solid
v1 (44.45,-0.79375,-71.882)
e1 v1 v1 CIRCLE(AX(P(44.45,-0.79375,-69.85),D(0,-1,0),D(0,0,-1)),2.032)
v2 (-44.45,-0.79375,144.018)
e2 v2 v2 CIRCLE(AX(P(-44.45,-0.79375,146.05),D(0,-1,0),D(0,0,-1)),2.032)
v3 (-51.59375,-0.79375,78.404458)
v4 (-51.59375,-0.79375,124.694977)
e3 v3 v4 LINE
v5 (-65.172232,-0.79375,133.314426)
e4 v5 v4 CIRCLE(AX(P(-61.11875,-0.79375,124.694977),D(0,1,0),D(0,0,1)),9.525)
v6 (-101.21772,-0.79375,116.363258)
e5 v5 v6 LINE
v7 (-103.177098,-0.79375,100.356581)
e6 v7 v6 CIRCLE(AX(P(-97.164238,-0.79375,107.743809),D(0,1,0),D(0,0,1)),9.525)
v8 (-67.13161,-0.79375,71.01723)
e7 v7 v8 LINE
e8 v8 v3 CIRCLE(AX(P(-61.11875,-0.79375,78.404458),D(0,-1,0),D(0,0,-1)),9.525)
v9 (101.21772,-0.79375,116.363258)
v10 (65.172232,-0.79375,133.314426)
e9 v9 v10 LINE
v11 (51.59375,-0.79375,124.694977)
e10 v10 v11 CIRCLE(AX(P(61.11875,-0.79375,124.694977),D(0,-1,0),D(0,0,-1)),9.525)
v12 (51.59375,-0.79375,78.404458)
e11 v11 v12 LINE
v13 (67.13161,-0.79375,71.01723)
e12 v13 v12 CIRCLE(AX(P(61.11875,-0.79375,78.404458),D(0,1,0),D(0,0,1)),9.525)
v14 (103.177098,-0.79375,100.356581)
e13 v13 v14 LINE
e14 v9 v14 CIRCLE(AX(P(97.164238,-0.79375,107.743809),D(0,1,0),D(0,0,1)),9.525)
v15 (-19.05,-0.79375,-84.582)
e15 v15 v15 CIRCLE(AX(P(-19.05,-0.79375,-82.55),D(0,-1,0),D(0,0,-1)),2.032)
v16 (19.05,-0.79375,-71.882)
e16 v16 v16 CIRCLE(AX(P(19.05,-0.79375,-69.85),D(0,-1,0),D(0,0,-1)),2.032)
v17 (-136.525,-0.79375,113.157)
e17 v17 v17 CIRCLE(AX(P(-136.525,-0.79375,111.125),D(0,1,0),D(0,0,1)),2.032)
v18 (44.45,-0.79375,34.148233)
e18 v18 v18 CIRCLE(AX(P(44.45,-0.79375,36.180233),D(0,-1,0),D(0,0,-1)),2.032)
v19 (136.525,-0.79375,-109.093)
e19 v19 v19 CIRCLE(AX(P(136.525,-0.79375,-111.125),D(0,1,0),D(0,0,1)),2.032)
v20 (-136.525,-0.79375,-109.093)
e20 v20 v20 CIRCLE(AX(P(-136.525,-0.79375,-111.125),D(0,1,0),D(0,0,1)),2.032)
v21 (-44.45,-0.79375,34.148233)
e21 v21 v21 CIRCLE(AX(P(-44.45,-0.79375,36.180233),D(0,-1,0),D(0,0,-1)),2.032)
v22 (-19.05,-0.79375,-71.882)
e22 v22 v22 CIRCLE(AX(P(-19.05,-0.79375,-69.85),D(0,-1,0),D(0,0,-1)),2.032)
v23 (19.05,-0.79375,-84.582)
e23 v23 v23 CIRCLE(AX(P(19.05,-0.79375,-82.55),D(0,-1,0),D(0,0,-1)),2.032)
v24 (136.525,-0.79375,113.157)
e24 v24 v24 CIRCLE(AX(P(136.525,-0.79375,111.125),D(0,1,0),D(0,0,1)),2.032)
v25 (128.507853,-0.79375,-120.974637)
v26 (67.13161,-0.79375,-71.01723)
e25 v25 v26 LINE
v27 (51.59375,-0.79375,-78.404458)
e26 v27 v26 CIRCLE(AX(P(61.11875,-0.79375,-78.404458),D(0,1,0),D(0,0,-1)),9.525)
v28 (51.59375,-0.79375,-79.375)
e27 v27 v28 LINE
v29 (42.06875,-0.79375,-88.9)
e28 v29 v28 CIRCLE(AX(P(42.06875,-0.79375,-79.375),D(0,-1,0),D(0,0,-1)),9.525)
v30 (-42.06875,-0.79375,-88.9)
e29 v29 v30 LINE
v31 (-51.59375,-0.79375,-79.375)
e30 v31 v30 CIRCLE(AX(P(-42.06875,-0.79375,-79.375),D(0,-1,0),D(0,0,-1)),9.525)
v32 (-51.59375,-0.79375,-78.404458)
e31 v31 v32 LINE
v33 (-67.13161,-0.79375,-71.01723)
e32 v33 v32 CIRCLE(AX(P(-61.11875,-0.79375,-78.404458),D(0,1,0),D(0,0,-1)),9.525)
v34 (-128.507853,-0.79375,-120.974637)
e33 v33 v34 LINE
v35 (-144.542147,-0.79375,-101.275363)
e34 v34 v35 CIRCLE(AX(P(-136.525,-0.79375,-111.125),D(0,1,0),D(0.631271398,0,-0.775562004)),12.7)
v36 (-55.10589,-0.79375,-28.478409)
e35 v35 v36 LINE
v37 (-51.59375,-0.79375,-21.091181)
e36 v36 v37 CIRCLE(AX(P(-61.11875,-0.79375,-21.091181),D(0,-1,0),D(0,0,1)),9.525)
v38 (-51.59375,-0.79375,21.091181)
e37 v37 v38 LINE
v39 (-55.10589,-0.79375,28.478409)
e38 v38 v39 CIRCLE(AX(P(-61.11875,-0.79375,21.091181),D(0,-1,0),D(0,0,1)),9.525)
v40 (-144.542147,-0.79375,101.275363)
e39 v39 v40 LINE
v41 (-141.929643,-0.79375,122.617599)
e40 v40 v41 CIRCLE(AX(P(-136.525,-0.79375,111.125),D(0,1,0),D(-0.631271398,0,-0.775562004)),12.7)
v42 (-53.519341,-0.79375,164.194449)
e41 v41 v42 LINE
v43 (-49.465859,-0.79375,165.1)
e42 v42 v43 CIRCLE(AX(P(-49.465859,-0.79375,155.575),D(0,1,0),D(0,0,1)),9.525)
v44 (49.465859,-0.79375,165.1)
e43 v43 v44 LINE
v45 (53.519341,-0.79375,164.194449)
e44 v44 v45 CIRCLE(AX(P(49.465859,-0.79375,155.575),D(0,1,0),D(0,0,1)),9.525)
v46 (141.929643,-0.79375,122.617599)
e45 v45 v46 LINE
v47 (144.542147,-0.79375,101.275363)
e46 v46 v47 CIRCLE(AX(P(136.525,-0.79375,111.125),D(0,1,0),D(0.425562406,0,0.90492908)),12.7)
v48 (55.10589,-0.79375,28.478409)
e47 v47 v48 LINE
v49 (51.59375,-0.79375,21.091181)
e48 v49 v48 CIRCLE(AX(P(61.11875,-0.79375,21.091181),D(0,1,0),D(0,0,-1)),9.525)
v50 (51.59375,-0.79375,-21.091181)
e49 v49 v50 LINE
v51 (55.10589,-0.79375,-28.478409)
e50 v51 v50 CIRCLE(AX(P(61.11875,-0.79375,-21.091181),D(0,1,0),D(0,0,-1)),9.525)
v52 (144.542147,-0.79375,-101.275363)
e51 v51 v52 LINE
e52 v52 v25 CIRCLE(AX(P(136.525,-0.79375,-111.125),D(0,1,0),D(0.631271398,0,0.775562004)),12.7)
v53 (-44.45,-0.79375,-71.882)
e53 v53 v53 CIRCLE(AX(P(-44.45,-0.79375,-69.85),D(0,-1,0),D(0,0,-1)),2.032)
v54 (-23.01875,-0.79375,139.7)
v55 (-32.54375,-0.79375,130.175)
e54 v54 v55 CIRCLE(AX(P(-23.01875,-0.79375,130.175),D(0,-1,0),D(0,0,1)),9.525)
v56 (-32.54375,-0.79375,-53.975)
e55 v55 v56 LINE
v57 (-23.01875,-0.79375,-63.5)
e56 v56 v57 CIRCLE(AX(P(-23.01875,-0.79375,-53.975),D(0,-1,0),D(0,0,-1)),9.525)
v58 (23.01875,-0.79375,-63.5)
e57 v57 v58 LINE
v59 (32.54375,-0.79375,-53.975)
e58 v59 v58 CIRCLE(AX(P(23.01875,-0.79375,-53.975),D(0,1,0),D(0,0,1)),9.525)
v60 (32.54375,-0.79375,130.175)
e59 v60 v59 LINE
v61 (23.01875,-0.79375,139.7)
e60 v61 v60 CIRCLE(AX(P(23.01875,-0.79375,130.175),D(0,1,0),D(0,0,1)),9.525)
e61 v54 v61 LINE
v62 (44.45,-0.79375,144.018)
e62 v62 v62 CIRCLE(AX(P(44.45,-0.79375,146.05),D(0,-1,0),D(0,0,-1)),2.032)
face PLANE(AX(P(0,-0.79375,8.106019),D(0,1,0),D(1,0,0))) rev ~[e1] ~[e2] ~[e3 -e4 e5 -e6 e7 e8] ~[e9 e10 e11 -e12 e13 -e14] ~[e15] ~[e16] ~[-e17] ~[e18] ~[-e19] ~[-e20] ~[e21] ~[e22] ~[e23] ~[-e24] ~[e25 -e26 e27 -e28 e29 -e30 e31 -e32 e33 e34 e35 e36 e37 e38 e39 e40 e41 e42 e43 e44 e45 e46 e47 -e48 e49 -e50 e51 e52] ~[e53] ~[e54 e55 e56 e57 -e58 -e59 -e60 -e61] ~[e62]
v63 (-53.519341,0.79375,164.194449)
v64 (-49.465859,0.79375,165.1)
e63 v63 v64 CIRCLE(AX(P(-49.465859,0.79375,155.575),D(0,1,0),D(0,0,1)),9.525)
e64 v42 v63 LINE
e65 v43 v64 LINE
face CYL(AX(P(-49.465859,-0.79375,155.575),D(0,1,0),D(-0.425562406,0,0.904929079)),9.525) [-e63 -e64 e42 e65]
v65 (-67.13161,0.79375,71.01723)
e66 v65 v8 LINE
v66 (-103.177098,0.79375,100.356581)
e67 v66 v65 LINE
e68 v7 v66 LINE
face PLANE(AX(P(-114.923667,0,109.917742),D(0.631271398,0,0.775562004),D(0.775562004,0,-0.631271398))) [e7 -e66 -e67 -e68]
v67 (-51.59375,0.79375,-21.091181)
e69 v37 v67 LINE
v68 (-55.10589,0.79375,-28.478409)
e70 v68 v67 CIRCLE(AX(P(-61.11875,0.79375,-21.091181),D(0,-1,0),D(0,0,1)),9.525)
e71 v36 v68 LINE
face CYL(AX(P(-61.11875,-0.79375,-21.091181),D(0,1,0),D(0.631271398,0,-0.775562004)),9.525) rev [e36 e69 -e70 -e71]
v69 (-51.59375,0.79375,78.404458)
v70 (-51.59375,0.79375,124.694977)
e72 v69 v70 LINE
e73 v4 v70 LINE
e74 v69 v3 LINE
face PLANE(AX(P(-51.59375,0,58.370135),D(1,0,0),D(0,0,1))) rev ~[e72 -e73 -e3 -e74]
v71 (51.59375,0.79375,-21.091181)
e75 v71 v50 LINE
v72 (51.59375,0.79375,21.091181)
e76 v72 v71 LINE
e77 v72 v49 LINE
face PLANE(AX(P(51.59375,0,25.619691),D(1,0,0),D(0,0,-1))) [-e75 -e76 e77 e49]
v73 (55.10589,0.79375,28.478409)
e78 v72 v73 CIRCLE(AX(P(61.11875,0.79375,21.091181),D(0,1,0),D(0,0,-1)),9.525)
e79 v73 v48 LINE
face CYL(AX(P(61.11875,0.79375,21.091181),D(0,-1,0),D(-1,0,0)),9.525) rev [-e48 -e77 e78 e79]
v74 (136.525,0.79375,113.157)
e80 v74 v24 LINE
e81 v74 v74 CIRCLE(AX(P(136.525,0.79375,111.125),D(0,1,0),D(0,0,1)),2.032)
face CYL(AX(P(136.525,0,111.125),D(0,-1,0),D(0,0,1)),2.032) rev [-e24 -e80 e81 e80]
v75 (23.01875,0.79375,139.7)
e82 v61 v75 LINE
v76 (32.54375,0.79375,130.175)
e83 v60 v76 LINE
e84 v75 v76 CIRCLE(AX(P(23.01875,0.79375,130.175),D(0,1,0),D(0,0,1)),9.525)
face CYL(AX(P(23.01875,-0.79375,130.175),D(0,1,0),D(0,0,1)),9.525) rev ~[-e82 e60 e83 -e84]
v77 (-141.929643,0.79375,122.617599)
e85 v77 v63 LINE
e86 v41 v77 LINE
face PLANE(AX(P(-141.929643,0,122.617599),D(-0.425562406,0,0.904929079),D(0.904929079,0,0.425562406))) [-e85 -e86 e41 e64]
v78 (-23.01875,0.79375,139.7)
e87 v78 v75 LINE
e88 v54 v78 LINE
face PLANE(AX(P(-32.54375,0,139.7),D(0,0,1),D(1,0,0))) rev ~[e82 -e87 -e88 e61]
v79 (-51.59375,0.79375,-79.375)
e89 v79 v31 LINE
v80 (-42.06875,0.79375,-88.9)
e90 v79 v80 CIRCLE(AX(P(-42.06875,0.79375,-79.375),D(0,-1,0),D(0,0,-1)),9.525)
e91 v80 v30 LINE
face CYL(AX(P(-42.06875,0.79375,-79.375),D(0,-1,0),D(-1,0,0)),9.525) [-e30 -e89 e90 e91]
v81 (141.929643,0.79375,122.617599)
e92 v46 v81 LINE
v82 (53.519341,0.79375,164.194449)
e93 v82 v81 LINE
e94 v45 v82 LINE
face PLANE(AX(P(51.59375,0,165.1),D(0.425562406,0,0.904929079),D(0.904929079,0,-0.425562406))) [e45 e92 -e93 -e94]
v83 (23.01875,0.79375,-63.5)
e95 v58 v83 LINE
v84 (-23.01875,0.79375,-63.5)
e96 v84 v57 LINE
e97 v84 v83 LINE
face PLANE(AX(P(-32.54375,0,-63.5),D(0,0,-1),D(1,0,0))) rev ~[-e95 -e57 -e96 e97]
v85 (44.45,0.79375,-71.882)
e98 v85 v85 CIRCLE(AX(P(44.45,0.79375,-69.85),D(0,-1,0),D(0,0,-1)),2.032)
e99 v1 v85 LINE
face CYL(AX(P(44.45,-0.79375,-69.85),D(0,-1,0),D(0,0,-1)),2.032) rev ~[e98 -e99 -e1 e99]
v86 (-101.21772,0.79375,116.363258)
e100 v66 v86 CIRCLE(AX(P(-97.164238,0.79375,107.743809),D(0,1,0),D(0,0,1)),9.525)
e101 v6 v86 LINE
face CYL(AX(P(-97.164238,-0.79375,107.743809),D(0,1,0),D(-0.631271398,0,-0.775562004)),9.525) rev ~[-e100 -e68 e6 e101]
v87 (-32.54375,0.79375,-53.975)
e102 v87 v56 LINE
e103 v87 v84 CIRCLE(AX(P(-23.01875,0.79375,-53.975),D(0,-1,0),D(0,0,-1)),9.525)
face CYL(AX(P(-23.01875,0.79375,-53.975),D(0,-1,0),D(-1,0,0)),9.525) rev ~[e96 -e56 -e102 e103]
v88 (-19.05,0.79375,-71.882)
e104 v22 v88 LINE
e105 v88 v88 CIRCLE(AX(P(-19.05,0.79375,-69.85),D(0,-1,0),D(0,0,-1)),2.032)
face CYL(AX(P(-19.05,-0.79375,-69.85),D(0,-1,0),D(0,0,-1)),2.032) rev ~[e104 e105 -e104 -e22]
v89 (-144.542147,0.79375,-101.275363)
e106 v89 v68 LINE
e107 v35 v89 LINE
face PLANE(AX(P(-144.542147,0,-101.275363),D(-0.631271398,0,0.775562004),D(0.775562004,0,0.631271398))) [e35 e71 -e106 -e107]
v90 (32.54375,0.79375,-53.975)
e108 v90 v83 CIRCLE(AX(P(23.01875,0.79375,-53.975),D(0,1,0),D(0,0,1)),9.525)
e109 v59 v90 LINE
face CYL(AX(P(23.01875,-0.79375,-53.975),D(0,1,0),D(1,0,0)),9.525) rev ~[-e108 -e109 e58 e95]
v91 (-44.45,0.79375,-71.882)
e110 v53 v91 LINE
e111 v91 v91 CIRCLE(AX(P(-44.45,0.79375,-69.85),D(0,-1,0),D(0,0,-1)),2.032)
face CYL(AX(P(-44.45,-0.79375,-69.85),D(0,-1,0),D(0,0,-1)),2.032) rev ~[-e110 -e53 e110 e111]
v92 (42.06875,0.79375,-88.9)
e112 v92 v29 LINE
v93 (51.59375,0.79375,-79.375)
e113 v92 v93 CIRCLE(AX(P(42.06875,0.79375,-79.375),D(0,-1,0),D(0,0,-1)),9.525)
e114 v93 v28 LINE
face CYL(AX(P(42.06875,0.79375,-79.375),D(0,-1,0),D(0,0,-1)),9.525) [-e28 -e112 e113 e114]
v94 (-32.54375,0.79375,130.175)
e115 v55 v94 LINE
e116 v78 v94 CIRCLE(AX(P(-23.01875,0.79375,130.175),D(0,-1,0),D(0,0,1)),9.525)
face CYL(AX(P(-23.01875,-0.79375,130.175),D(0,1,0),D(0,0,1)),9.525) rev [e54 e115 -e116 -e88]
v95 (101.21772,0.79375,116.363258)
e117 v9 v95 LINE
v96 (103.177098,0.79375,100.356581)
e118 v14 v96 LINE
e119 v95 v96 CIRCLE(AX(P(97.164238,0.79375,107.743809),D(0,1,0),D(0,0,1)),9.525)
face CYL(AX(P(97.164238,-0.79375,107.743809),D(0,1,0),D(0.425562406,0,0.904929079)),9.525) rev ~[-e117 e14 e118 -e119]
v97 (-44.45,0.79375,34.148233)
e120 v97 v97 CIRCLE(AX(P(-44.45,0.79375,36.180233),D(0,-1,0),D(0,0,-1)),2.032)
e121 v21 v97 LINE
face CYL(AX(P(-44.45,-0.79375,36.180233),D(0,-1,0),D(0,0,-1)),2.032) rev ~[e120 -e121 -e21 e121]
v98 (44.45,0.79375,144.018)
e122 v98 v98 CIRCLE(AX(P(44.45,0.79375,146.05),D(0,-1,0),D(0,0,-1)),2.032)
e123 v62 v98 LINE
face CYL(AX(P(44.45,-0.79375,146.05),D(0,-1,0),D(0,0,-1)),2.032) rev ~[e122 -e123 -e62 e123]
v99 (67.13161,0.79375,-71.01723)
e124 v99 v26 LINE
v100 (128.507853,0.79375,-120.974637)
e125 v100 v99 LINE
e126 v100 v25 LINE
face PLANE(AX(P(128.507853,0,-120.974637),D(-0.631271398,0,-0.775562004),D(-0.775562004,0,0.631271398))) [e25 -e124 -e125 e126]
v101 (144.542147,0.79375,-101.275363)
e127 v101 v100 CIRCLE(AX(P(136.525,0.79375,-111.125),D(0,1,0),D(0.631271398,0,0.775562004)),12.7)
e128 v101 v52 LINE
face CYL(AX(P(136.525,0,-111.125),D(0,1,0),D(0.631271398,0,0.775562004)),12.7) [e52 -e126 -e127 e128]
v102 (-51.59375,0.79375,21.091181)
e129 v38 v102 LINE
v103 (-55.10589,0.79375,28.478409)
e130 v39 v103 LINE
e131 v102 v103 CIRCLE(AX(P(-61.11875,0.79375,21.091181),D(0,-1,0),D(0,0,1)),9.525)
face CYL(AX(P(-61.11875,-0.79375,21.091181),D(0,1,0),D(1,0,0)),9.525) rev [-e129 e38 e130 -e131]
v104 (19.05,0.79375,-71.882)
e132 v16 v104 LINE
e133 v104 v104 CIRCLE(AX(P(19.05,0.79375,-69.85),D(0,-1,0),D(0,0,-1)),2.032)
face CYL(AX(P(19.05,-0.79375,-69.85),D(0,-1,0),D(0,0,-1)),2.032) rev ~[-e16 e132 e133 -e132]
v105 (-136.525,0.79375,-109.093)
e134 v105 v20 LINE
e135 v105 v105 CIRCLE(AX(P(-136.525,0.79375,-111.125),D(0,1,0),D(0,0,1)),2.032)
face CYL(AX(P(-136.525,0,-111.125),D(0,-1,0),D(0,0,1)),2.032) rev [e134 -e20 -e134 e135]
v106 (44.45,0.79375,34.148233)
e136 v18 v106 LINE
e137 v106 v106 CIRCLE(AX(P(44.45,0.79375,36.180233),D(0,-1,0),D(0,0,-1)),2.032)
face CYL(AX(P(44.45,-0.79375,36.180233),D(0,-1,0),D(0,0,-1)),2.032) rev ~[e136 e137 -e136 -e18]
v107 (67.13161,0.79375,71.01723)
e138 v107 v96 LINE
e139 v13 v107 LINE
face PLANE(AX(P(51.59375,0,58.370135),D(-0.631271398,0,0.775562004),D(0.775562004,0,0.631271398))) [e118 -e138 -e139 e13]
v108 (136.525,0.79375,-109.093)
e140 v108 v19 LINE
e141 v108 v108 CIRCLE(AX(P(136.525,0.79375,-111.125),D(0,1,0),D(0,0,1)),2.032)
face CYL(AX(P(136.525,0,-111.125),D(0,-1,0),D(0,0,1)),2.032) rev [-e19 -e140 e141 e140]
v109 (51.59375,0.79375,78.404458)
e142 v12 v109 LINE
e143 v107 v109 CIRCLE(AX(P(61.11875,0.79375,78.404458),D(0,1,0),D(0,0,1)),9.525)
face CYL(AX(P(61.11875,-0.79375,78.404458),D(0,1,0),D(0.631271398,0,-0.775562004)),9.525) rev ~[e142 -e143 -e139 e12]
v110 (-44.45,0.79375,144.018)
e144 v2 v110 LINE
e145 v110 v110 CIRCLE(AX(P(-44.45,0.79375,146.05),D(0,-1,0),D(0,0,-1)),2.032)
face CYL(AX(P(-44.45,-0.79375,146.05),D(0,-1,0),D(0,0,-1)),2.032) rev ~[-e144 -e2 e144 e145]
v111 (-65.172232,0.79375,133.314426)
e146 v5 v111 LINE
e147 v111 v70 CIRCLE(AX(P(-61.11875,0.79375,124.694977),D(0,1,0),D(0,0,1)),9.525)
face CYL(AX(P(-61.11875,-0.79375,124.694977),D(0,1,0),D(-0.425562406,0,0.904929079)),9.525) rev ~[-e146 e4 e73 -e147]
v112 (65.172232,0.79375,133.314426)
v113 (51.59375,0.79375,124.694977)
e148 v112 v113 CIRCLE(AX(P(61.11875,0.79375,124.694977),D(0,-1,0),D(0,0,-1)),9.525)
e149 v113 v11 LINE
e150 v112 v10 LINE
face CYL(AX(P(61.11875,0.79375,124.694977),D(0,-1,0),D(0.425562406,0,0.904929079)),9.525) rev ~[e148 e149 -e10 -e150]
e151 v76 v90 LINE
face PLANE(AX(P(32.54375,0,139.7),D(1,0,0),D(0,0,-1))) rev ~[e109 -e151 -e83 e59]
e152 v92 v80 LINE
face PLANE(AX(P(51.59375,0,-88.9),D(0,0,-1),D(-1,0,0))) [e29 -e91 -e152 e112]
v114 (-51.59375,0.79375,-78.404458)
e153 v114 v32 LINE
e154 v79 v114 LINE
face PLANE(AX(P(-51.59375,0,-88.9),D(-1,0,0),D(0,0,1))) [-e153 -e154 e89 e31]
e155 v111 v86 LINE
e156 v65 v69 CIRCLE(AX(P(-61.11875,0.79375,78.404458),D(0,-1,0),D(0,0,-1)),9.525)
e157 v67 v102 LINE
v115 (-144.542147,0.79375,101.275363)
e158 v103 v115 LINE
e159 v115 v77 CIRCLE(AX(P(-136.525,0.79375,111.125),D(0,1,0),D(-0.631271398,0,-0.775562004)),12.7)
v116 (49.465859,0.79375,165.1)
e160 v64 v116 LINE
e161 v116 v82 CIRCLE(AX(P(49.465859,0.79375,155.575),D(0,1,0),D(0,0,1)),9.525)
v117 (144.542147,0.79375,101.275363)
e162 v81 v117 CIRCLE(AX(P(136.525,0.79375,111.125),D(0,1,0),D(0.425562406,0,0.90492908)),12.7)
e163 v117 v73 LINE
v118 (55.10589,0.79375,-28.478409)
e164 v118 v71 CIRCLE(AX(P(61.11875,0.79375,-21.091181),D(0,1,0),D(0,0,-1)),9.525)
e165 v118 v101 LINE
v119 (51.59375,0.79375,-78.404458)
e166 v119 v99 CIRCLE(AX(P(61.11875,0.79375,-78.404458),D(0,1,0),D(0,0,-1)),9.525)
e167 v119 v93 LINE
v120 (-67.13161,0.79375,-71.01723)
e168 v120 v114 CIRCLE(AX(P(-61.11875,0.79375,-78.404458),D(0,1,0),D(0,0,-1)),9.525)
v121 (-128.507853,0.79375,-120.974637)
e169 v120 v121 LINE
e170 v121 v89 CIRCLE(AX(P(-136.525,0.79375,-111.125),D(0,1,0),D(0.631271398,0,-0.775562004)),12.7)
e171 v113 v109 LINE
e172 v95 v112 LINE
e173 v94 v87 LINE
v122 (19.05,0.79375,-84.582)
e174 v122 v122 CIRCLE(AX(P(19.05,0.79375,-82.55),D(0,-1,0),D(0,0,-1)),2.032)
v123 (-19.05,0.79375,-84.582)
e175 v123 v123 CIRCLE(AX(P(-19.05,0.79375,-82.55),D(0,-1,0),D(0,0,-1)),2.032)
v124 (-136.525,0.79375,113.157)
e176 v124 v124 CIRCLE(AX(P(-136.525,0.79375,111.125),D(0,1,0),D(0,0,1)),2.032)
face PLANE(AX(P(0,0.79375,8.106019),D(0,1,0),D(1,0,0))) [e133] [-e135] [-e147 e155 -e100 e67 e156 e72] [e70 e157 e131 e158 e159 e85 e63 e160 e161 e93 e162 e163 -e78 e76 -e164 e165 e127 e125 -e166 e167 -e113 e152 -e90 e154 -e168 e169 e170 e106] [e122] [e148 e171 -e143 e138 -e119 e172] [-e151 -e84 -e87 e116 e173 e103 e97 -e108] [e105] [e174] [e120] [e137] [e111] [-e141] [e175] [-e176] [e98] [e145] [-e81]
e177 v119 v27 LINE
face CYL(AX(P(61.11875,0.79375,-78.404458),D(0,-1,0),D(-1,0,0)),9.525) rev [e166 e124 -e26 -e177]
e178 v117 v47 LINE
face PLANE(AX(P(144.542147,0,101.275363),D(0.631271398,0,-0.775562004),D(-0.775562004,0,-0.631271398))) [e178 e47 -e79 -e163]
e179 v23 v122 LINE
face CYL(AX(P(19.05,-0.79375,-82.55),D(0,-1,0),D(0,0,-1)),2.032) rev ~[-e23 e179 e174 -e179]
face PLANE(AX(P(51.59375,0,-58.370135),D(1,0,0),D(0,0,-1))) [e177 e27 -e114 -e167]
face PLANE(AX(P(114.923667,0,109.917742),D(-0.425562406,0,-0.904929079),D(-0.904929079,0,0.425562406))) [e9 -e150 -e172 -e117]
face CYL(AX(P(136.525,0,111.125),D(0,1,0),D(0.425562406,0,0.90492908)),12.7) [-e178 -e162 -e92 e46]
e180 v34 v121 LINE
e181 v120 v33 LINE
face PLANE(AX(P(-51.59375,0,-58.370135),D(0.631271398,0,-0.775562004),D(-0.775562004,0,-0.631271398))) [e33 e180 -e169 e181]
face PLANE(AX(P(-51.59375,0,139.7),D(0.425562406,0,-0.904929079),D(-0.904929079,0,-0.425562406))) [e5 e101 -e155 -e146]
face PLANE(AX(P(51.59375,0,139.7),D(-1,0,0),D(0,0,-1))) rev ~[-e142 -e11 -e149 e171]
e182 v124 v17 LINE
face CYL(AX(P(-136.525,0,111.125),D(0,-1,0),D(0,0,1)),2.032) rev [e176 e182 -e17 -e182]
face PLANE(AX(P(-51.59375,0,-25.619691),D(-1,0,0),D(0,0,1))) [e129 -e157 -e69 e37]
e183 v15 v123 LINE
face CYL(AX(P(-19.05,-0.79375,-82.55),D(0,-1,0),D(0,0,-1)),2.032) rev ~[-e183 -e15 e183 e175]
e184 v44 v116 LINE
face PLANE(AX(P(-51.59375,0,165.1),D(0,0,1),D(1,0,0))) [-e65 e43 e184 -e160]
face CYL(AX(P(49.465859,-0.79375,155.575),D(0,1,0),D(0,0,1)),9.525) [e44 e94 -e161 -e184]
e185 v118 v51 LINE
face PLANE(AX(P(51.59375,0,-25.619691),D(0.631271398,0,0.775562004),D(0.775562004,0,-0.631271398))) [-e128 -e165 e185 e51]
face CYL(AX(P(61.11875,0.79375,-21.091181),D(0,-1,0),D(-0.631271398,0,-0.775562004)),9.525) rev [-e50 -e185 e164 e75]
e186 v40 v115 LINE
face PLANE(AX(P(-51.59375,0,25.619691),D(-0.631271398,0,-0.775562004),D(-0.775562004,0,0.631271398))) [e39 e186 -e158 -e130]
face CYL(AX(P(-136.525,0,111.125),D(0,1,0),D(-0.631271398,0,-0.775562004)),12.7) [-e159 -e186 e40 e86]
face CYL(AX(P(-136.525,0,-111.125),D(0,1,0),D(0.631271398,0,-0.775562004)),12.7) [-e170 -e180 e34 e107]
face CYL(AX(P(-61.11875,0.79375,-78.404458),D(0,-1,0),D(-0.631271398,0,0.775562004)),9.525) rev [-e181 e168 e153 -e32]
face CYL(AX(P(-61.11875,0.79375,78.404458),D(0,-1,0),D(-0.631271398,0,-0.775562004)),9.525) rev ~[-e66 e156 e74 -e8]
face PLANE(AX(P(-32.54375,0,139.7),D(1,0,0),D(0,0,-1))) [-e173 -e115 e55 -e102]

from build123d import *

# Parameters (mm, degrees)
SKETCH2_R           = 2.032
SKETCH2_W           = 65.0875
SKETCH2_H           = 203.2
BOSS_EXTRUDE1_DEPTH = 0.79375
SKETCH3_R           = 2.032
CUT_EXTRUDE1_DEPTH  = 223.550288208
FILLET1_R           = 9.525


with BuildPart() as part:
    # Sketch2 → Boss-Extrude1 (new, symmetric)
    with BuildSketch(Plane(origin=(0, 0, 0), x_dir=(1, 0, 0), z_dir=(0, 1, 0))):
        with BuildLine():
            Line((-51.59375, 58.370134809), (-128.507853241, 120.974637447))
            ThreePointArc((-128.507853241, 120.974637447), (-146.374637447, 119.142146759), (-144.542146759, 101.275362553))
            Line((-144.542146759, 101.275362553), (-51.59375, 25.619690772))
            Line((-51.59375, 25.619690772), (-51.59375, -25.619690772))
            Line((-51.59375, -25.619690772), (-144.542146759, -101.275362553))
            ThreePointArc((-144.542146759, -101.275362553), (-149.130906335, -112.668089589), (-141.929642552, -122.617599309))
            Line((-141.929642552, -122.617599309), (-51.59375, -165.1))
            Line((-51.59375, -165.1), (51.59375, -165.1))
            Line((51.59375, -165.1), (141.929642552, -122.617599309))
            ThreePointArc((141.929642552, -122.617599309), (149.130906335, -112.668089589), (144.542146759, -101.275362553))
            Line((144.542146759, -101.275362553), (51.59375, -25.619690772))
            Line((51.59375, -25.619690772), (51.59375, 25.619690772))
            Line((51.59375, 25.619690772), (144.542146759, 101.275362553))
            ThreePointArc((144.542146759, 101.275362553), (146.374637447, 119.142146759), (128.507853241, 120.974637447))
            Line((128.507853241, 120.974637447), (51.59375, 58.370134809))
            Line((51.59375, 58.370134809), (51.59375, 88.9))
            Line((51.59375, 88.9), (-51.59375, 88.9))
            Line((-51.59375, 88.9), (-51.59375, 58.370134809))
        make_face()
        with Locations(Location((-136.525, -111.125, 0), (0, 0, 270))):
            Circle(SKETCH2_R, mode=Mode.SUBTRACT)
        Polygon((-51.59375, -58.370134809), (-51.59375, -139.7), (-114.923666817, -109.917741521), align=None, mode=Mode.SUBTRACT)
        Polygon((51.59375, -139.7), (51.59375, -58.370134809), (114.923666817, -109.917741521), align=None, mode=Mode.SUBTRACT)
        with Locations(Location((136.525, -111.125, 0), (0, 0, 270))):
            Circle(SKETCH2_R, mode=Mode.SUBTRACT)
        with Locations((0, -38.1)):
            Rectangle(SKETCH2_W, SKETCH2_H, mode=Mode.SUBTRACT)
        with Locations(Location((-136.525, 111.125, 0), (0, 0, 270))):
            Circle(SKETCH2_R, mode=Mode.SUBTRACT)
        with Locations(Location((136.525, 111.125, 0), (0, 0, 270))):
            Circle(SKETCH2_R, mode=Mode.SUBTRACT)
    extrude(amount=BOSS_EXTRUDE1_DEPTH, both=True)

    # Sketch3 → Cut-Extrude1 (cut, through all)
    with BuildSketch(Plane.XZ.offset(0.79375)):
        with Locations(Location((44.45, 146.05, 0), (0, 0, 270))):
            Circle(SKETCH3_R)
        with Locations(Location((-44.45, 146.05, 0), (0, 0, 270))):
            Circle(SKETCH3_R)
        with Locations(Location((44.45, -69.85, 0), (0, 0, 270))):
            Circle(SKETCH3_R)
        with Locations(Location((-44.45, -69.85, 0), (0, 0, 270))):
            Circle(SKETCH3_R)
        with Locations(Location((-19.05, -69.85, 0), (0, 0, 270))):
            Circle(SKETCH3_R)
        with Locations(Location((19.05, -69.85, 0), (0, 0, 270))):
            Circle(SKETCH3_R)
        with Locations(Location((-19.05, -82.55, 0), (0, 0, 270))):
            Circle(SKETCH3_R)
        with Locations(Location((19.05, -82.55, 0), (0, 0, 270))):
            Circle(SKETCH3_R)
        with Locations(Location((-44.45, 36.180232558, 0), (0, 0, 270))):
            Circle(SKETCH3_R)
        with Locations(Location((44.45, 36.180232558, 0), (0, 0, 270))):
            Circle(SKETCH3_R)
    extrude(amount=-CUT_EXTRUDE1_DEPTH, mode=Mode.SUBTRACT)

    # Fillet1
    fillet1_edges = [part.edges().sort_by_distance(p)[0] for p in [
        (-51.59375, 0, 58.370134809),
        (-114.923666817, 0, 109.917741521),
        (-51.59375, 0, 139.7),
        (32.54375, 0, -63.5),
        (-32.54375, 0, -63.5),
        (-32.54375, 0, 139.7),
        (32.54375, 0, 139.7),
        (51.59375, 0, 58.370134809),
        (51.59375, 0, 139.7),
        (114.923666817, 0, 109.917741521),
        (-51.59375, 0, 25.619690772),
        (-51.59375, 0, -25.619690772),
        (-51.59375, 0, -58.370134809),
        (-51.59375, 0, -88.9),
        (51.59375, 0, -88.9),
        (51.59375, 0, -58.370134809),
        (51.59375, 0, -25.619690772),
        (51.59375, 0, 25.619690772),
        (51.59375, 0, 165.1),
        (-51.59375, 0, 165.1),
    ]]
    fillet(fillet1_edges, radius=FILLET1_R)


solid = part.part
